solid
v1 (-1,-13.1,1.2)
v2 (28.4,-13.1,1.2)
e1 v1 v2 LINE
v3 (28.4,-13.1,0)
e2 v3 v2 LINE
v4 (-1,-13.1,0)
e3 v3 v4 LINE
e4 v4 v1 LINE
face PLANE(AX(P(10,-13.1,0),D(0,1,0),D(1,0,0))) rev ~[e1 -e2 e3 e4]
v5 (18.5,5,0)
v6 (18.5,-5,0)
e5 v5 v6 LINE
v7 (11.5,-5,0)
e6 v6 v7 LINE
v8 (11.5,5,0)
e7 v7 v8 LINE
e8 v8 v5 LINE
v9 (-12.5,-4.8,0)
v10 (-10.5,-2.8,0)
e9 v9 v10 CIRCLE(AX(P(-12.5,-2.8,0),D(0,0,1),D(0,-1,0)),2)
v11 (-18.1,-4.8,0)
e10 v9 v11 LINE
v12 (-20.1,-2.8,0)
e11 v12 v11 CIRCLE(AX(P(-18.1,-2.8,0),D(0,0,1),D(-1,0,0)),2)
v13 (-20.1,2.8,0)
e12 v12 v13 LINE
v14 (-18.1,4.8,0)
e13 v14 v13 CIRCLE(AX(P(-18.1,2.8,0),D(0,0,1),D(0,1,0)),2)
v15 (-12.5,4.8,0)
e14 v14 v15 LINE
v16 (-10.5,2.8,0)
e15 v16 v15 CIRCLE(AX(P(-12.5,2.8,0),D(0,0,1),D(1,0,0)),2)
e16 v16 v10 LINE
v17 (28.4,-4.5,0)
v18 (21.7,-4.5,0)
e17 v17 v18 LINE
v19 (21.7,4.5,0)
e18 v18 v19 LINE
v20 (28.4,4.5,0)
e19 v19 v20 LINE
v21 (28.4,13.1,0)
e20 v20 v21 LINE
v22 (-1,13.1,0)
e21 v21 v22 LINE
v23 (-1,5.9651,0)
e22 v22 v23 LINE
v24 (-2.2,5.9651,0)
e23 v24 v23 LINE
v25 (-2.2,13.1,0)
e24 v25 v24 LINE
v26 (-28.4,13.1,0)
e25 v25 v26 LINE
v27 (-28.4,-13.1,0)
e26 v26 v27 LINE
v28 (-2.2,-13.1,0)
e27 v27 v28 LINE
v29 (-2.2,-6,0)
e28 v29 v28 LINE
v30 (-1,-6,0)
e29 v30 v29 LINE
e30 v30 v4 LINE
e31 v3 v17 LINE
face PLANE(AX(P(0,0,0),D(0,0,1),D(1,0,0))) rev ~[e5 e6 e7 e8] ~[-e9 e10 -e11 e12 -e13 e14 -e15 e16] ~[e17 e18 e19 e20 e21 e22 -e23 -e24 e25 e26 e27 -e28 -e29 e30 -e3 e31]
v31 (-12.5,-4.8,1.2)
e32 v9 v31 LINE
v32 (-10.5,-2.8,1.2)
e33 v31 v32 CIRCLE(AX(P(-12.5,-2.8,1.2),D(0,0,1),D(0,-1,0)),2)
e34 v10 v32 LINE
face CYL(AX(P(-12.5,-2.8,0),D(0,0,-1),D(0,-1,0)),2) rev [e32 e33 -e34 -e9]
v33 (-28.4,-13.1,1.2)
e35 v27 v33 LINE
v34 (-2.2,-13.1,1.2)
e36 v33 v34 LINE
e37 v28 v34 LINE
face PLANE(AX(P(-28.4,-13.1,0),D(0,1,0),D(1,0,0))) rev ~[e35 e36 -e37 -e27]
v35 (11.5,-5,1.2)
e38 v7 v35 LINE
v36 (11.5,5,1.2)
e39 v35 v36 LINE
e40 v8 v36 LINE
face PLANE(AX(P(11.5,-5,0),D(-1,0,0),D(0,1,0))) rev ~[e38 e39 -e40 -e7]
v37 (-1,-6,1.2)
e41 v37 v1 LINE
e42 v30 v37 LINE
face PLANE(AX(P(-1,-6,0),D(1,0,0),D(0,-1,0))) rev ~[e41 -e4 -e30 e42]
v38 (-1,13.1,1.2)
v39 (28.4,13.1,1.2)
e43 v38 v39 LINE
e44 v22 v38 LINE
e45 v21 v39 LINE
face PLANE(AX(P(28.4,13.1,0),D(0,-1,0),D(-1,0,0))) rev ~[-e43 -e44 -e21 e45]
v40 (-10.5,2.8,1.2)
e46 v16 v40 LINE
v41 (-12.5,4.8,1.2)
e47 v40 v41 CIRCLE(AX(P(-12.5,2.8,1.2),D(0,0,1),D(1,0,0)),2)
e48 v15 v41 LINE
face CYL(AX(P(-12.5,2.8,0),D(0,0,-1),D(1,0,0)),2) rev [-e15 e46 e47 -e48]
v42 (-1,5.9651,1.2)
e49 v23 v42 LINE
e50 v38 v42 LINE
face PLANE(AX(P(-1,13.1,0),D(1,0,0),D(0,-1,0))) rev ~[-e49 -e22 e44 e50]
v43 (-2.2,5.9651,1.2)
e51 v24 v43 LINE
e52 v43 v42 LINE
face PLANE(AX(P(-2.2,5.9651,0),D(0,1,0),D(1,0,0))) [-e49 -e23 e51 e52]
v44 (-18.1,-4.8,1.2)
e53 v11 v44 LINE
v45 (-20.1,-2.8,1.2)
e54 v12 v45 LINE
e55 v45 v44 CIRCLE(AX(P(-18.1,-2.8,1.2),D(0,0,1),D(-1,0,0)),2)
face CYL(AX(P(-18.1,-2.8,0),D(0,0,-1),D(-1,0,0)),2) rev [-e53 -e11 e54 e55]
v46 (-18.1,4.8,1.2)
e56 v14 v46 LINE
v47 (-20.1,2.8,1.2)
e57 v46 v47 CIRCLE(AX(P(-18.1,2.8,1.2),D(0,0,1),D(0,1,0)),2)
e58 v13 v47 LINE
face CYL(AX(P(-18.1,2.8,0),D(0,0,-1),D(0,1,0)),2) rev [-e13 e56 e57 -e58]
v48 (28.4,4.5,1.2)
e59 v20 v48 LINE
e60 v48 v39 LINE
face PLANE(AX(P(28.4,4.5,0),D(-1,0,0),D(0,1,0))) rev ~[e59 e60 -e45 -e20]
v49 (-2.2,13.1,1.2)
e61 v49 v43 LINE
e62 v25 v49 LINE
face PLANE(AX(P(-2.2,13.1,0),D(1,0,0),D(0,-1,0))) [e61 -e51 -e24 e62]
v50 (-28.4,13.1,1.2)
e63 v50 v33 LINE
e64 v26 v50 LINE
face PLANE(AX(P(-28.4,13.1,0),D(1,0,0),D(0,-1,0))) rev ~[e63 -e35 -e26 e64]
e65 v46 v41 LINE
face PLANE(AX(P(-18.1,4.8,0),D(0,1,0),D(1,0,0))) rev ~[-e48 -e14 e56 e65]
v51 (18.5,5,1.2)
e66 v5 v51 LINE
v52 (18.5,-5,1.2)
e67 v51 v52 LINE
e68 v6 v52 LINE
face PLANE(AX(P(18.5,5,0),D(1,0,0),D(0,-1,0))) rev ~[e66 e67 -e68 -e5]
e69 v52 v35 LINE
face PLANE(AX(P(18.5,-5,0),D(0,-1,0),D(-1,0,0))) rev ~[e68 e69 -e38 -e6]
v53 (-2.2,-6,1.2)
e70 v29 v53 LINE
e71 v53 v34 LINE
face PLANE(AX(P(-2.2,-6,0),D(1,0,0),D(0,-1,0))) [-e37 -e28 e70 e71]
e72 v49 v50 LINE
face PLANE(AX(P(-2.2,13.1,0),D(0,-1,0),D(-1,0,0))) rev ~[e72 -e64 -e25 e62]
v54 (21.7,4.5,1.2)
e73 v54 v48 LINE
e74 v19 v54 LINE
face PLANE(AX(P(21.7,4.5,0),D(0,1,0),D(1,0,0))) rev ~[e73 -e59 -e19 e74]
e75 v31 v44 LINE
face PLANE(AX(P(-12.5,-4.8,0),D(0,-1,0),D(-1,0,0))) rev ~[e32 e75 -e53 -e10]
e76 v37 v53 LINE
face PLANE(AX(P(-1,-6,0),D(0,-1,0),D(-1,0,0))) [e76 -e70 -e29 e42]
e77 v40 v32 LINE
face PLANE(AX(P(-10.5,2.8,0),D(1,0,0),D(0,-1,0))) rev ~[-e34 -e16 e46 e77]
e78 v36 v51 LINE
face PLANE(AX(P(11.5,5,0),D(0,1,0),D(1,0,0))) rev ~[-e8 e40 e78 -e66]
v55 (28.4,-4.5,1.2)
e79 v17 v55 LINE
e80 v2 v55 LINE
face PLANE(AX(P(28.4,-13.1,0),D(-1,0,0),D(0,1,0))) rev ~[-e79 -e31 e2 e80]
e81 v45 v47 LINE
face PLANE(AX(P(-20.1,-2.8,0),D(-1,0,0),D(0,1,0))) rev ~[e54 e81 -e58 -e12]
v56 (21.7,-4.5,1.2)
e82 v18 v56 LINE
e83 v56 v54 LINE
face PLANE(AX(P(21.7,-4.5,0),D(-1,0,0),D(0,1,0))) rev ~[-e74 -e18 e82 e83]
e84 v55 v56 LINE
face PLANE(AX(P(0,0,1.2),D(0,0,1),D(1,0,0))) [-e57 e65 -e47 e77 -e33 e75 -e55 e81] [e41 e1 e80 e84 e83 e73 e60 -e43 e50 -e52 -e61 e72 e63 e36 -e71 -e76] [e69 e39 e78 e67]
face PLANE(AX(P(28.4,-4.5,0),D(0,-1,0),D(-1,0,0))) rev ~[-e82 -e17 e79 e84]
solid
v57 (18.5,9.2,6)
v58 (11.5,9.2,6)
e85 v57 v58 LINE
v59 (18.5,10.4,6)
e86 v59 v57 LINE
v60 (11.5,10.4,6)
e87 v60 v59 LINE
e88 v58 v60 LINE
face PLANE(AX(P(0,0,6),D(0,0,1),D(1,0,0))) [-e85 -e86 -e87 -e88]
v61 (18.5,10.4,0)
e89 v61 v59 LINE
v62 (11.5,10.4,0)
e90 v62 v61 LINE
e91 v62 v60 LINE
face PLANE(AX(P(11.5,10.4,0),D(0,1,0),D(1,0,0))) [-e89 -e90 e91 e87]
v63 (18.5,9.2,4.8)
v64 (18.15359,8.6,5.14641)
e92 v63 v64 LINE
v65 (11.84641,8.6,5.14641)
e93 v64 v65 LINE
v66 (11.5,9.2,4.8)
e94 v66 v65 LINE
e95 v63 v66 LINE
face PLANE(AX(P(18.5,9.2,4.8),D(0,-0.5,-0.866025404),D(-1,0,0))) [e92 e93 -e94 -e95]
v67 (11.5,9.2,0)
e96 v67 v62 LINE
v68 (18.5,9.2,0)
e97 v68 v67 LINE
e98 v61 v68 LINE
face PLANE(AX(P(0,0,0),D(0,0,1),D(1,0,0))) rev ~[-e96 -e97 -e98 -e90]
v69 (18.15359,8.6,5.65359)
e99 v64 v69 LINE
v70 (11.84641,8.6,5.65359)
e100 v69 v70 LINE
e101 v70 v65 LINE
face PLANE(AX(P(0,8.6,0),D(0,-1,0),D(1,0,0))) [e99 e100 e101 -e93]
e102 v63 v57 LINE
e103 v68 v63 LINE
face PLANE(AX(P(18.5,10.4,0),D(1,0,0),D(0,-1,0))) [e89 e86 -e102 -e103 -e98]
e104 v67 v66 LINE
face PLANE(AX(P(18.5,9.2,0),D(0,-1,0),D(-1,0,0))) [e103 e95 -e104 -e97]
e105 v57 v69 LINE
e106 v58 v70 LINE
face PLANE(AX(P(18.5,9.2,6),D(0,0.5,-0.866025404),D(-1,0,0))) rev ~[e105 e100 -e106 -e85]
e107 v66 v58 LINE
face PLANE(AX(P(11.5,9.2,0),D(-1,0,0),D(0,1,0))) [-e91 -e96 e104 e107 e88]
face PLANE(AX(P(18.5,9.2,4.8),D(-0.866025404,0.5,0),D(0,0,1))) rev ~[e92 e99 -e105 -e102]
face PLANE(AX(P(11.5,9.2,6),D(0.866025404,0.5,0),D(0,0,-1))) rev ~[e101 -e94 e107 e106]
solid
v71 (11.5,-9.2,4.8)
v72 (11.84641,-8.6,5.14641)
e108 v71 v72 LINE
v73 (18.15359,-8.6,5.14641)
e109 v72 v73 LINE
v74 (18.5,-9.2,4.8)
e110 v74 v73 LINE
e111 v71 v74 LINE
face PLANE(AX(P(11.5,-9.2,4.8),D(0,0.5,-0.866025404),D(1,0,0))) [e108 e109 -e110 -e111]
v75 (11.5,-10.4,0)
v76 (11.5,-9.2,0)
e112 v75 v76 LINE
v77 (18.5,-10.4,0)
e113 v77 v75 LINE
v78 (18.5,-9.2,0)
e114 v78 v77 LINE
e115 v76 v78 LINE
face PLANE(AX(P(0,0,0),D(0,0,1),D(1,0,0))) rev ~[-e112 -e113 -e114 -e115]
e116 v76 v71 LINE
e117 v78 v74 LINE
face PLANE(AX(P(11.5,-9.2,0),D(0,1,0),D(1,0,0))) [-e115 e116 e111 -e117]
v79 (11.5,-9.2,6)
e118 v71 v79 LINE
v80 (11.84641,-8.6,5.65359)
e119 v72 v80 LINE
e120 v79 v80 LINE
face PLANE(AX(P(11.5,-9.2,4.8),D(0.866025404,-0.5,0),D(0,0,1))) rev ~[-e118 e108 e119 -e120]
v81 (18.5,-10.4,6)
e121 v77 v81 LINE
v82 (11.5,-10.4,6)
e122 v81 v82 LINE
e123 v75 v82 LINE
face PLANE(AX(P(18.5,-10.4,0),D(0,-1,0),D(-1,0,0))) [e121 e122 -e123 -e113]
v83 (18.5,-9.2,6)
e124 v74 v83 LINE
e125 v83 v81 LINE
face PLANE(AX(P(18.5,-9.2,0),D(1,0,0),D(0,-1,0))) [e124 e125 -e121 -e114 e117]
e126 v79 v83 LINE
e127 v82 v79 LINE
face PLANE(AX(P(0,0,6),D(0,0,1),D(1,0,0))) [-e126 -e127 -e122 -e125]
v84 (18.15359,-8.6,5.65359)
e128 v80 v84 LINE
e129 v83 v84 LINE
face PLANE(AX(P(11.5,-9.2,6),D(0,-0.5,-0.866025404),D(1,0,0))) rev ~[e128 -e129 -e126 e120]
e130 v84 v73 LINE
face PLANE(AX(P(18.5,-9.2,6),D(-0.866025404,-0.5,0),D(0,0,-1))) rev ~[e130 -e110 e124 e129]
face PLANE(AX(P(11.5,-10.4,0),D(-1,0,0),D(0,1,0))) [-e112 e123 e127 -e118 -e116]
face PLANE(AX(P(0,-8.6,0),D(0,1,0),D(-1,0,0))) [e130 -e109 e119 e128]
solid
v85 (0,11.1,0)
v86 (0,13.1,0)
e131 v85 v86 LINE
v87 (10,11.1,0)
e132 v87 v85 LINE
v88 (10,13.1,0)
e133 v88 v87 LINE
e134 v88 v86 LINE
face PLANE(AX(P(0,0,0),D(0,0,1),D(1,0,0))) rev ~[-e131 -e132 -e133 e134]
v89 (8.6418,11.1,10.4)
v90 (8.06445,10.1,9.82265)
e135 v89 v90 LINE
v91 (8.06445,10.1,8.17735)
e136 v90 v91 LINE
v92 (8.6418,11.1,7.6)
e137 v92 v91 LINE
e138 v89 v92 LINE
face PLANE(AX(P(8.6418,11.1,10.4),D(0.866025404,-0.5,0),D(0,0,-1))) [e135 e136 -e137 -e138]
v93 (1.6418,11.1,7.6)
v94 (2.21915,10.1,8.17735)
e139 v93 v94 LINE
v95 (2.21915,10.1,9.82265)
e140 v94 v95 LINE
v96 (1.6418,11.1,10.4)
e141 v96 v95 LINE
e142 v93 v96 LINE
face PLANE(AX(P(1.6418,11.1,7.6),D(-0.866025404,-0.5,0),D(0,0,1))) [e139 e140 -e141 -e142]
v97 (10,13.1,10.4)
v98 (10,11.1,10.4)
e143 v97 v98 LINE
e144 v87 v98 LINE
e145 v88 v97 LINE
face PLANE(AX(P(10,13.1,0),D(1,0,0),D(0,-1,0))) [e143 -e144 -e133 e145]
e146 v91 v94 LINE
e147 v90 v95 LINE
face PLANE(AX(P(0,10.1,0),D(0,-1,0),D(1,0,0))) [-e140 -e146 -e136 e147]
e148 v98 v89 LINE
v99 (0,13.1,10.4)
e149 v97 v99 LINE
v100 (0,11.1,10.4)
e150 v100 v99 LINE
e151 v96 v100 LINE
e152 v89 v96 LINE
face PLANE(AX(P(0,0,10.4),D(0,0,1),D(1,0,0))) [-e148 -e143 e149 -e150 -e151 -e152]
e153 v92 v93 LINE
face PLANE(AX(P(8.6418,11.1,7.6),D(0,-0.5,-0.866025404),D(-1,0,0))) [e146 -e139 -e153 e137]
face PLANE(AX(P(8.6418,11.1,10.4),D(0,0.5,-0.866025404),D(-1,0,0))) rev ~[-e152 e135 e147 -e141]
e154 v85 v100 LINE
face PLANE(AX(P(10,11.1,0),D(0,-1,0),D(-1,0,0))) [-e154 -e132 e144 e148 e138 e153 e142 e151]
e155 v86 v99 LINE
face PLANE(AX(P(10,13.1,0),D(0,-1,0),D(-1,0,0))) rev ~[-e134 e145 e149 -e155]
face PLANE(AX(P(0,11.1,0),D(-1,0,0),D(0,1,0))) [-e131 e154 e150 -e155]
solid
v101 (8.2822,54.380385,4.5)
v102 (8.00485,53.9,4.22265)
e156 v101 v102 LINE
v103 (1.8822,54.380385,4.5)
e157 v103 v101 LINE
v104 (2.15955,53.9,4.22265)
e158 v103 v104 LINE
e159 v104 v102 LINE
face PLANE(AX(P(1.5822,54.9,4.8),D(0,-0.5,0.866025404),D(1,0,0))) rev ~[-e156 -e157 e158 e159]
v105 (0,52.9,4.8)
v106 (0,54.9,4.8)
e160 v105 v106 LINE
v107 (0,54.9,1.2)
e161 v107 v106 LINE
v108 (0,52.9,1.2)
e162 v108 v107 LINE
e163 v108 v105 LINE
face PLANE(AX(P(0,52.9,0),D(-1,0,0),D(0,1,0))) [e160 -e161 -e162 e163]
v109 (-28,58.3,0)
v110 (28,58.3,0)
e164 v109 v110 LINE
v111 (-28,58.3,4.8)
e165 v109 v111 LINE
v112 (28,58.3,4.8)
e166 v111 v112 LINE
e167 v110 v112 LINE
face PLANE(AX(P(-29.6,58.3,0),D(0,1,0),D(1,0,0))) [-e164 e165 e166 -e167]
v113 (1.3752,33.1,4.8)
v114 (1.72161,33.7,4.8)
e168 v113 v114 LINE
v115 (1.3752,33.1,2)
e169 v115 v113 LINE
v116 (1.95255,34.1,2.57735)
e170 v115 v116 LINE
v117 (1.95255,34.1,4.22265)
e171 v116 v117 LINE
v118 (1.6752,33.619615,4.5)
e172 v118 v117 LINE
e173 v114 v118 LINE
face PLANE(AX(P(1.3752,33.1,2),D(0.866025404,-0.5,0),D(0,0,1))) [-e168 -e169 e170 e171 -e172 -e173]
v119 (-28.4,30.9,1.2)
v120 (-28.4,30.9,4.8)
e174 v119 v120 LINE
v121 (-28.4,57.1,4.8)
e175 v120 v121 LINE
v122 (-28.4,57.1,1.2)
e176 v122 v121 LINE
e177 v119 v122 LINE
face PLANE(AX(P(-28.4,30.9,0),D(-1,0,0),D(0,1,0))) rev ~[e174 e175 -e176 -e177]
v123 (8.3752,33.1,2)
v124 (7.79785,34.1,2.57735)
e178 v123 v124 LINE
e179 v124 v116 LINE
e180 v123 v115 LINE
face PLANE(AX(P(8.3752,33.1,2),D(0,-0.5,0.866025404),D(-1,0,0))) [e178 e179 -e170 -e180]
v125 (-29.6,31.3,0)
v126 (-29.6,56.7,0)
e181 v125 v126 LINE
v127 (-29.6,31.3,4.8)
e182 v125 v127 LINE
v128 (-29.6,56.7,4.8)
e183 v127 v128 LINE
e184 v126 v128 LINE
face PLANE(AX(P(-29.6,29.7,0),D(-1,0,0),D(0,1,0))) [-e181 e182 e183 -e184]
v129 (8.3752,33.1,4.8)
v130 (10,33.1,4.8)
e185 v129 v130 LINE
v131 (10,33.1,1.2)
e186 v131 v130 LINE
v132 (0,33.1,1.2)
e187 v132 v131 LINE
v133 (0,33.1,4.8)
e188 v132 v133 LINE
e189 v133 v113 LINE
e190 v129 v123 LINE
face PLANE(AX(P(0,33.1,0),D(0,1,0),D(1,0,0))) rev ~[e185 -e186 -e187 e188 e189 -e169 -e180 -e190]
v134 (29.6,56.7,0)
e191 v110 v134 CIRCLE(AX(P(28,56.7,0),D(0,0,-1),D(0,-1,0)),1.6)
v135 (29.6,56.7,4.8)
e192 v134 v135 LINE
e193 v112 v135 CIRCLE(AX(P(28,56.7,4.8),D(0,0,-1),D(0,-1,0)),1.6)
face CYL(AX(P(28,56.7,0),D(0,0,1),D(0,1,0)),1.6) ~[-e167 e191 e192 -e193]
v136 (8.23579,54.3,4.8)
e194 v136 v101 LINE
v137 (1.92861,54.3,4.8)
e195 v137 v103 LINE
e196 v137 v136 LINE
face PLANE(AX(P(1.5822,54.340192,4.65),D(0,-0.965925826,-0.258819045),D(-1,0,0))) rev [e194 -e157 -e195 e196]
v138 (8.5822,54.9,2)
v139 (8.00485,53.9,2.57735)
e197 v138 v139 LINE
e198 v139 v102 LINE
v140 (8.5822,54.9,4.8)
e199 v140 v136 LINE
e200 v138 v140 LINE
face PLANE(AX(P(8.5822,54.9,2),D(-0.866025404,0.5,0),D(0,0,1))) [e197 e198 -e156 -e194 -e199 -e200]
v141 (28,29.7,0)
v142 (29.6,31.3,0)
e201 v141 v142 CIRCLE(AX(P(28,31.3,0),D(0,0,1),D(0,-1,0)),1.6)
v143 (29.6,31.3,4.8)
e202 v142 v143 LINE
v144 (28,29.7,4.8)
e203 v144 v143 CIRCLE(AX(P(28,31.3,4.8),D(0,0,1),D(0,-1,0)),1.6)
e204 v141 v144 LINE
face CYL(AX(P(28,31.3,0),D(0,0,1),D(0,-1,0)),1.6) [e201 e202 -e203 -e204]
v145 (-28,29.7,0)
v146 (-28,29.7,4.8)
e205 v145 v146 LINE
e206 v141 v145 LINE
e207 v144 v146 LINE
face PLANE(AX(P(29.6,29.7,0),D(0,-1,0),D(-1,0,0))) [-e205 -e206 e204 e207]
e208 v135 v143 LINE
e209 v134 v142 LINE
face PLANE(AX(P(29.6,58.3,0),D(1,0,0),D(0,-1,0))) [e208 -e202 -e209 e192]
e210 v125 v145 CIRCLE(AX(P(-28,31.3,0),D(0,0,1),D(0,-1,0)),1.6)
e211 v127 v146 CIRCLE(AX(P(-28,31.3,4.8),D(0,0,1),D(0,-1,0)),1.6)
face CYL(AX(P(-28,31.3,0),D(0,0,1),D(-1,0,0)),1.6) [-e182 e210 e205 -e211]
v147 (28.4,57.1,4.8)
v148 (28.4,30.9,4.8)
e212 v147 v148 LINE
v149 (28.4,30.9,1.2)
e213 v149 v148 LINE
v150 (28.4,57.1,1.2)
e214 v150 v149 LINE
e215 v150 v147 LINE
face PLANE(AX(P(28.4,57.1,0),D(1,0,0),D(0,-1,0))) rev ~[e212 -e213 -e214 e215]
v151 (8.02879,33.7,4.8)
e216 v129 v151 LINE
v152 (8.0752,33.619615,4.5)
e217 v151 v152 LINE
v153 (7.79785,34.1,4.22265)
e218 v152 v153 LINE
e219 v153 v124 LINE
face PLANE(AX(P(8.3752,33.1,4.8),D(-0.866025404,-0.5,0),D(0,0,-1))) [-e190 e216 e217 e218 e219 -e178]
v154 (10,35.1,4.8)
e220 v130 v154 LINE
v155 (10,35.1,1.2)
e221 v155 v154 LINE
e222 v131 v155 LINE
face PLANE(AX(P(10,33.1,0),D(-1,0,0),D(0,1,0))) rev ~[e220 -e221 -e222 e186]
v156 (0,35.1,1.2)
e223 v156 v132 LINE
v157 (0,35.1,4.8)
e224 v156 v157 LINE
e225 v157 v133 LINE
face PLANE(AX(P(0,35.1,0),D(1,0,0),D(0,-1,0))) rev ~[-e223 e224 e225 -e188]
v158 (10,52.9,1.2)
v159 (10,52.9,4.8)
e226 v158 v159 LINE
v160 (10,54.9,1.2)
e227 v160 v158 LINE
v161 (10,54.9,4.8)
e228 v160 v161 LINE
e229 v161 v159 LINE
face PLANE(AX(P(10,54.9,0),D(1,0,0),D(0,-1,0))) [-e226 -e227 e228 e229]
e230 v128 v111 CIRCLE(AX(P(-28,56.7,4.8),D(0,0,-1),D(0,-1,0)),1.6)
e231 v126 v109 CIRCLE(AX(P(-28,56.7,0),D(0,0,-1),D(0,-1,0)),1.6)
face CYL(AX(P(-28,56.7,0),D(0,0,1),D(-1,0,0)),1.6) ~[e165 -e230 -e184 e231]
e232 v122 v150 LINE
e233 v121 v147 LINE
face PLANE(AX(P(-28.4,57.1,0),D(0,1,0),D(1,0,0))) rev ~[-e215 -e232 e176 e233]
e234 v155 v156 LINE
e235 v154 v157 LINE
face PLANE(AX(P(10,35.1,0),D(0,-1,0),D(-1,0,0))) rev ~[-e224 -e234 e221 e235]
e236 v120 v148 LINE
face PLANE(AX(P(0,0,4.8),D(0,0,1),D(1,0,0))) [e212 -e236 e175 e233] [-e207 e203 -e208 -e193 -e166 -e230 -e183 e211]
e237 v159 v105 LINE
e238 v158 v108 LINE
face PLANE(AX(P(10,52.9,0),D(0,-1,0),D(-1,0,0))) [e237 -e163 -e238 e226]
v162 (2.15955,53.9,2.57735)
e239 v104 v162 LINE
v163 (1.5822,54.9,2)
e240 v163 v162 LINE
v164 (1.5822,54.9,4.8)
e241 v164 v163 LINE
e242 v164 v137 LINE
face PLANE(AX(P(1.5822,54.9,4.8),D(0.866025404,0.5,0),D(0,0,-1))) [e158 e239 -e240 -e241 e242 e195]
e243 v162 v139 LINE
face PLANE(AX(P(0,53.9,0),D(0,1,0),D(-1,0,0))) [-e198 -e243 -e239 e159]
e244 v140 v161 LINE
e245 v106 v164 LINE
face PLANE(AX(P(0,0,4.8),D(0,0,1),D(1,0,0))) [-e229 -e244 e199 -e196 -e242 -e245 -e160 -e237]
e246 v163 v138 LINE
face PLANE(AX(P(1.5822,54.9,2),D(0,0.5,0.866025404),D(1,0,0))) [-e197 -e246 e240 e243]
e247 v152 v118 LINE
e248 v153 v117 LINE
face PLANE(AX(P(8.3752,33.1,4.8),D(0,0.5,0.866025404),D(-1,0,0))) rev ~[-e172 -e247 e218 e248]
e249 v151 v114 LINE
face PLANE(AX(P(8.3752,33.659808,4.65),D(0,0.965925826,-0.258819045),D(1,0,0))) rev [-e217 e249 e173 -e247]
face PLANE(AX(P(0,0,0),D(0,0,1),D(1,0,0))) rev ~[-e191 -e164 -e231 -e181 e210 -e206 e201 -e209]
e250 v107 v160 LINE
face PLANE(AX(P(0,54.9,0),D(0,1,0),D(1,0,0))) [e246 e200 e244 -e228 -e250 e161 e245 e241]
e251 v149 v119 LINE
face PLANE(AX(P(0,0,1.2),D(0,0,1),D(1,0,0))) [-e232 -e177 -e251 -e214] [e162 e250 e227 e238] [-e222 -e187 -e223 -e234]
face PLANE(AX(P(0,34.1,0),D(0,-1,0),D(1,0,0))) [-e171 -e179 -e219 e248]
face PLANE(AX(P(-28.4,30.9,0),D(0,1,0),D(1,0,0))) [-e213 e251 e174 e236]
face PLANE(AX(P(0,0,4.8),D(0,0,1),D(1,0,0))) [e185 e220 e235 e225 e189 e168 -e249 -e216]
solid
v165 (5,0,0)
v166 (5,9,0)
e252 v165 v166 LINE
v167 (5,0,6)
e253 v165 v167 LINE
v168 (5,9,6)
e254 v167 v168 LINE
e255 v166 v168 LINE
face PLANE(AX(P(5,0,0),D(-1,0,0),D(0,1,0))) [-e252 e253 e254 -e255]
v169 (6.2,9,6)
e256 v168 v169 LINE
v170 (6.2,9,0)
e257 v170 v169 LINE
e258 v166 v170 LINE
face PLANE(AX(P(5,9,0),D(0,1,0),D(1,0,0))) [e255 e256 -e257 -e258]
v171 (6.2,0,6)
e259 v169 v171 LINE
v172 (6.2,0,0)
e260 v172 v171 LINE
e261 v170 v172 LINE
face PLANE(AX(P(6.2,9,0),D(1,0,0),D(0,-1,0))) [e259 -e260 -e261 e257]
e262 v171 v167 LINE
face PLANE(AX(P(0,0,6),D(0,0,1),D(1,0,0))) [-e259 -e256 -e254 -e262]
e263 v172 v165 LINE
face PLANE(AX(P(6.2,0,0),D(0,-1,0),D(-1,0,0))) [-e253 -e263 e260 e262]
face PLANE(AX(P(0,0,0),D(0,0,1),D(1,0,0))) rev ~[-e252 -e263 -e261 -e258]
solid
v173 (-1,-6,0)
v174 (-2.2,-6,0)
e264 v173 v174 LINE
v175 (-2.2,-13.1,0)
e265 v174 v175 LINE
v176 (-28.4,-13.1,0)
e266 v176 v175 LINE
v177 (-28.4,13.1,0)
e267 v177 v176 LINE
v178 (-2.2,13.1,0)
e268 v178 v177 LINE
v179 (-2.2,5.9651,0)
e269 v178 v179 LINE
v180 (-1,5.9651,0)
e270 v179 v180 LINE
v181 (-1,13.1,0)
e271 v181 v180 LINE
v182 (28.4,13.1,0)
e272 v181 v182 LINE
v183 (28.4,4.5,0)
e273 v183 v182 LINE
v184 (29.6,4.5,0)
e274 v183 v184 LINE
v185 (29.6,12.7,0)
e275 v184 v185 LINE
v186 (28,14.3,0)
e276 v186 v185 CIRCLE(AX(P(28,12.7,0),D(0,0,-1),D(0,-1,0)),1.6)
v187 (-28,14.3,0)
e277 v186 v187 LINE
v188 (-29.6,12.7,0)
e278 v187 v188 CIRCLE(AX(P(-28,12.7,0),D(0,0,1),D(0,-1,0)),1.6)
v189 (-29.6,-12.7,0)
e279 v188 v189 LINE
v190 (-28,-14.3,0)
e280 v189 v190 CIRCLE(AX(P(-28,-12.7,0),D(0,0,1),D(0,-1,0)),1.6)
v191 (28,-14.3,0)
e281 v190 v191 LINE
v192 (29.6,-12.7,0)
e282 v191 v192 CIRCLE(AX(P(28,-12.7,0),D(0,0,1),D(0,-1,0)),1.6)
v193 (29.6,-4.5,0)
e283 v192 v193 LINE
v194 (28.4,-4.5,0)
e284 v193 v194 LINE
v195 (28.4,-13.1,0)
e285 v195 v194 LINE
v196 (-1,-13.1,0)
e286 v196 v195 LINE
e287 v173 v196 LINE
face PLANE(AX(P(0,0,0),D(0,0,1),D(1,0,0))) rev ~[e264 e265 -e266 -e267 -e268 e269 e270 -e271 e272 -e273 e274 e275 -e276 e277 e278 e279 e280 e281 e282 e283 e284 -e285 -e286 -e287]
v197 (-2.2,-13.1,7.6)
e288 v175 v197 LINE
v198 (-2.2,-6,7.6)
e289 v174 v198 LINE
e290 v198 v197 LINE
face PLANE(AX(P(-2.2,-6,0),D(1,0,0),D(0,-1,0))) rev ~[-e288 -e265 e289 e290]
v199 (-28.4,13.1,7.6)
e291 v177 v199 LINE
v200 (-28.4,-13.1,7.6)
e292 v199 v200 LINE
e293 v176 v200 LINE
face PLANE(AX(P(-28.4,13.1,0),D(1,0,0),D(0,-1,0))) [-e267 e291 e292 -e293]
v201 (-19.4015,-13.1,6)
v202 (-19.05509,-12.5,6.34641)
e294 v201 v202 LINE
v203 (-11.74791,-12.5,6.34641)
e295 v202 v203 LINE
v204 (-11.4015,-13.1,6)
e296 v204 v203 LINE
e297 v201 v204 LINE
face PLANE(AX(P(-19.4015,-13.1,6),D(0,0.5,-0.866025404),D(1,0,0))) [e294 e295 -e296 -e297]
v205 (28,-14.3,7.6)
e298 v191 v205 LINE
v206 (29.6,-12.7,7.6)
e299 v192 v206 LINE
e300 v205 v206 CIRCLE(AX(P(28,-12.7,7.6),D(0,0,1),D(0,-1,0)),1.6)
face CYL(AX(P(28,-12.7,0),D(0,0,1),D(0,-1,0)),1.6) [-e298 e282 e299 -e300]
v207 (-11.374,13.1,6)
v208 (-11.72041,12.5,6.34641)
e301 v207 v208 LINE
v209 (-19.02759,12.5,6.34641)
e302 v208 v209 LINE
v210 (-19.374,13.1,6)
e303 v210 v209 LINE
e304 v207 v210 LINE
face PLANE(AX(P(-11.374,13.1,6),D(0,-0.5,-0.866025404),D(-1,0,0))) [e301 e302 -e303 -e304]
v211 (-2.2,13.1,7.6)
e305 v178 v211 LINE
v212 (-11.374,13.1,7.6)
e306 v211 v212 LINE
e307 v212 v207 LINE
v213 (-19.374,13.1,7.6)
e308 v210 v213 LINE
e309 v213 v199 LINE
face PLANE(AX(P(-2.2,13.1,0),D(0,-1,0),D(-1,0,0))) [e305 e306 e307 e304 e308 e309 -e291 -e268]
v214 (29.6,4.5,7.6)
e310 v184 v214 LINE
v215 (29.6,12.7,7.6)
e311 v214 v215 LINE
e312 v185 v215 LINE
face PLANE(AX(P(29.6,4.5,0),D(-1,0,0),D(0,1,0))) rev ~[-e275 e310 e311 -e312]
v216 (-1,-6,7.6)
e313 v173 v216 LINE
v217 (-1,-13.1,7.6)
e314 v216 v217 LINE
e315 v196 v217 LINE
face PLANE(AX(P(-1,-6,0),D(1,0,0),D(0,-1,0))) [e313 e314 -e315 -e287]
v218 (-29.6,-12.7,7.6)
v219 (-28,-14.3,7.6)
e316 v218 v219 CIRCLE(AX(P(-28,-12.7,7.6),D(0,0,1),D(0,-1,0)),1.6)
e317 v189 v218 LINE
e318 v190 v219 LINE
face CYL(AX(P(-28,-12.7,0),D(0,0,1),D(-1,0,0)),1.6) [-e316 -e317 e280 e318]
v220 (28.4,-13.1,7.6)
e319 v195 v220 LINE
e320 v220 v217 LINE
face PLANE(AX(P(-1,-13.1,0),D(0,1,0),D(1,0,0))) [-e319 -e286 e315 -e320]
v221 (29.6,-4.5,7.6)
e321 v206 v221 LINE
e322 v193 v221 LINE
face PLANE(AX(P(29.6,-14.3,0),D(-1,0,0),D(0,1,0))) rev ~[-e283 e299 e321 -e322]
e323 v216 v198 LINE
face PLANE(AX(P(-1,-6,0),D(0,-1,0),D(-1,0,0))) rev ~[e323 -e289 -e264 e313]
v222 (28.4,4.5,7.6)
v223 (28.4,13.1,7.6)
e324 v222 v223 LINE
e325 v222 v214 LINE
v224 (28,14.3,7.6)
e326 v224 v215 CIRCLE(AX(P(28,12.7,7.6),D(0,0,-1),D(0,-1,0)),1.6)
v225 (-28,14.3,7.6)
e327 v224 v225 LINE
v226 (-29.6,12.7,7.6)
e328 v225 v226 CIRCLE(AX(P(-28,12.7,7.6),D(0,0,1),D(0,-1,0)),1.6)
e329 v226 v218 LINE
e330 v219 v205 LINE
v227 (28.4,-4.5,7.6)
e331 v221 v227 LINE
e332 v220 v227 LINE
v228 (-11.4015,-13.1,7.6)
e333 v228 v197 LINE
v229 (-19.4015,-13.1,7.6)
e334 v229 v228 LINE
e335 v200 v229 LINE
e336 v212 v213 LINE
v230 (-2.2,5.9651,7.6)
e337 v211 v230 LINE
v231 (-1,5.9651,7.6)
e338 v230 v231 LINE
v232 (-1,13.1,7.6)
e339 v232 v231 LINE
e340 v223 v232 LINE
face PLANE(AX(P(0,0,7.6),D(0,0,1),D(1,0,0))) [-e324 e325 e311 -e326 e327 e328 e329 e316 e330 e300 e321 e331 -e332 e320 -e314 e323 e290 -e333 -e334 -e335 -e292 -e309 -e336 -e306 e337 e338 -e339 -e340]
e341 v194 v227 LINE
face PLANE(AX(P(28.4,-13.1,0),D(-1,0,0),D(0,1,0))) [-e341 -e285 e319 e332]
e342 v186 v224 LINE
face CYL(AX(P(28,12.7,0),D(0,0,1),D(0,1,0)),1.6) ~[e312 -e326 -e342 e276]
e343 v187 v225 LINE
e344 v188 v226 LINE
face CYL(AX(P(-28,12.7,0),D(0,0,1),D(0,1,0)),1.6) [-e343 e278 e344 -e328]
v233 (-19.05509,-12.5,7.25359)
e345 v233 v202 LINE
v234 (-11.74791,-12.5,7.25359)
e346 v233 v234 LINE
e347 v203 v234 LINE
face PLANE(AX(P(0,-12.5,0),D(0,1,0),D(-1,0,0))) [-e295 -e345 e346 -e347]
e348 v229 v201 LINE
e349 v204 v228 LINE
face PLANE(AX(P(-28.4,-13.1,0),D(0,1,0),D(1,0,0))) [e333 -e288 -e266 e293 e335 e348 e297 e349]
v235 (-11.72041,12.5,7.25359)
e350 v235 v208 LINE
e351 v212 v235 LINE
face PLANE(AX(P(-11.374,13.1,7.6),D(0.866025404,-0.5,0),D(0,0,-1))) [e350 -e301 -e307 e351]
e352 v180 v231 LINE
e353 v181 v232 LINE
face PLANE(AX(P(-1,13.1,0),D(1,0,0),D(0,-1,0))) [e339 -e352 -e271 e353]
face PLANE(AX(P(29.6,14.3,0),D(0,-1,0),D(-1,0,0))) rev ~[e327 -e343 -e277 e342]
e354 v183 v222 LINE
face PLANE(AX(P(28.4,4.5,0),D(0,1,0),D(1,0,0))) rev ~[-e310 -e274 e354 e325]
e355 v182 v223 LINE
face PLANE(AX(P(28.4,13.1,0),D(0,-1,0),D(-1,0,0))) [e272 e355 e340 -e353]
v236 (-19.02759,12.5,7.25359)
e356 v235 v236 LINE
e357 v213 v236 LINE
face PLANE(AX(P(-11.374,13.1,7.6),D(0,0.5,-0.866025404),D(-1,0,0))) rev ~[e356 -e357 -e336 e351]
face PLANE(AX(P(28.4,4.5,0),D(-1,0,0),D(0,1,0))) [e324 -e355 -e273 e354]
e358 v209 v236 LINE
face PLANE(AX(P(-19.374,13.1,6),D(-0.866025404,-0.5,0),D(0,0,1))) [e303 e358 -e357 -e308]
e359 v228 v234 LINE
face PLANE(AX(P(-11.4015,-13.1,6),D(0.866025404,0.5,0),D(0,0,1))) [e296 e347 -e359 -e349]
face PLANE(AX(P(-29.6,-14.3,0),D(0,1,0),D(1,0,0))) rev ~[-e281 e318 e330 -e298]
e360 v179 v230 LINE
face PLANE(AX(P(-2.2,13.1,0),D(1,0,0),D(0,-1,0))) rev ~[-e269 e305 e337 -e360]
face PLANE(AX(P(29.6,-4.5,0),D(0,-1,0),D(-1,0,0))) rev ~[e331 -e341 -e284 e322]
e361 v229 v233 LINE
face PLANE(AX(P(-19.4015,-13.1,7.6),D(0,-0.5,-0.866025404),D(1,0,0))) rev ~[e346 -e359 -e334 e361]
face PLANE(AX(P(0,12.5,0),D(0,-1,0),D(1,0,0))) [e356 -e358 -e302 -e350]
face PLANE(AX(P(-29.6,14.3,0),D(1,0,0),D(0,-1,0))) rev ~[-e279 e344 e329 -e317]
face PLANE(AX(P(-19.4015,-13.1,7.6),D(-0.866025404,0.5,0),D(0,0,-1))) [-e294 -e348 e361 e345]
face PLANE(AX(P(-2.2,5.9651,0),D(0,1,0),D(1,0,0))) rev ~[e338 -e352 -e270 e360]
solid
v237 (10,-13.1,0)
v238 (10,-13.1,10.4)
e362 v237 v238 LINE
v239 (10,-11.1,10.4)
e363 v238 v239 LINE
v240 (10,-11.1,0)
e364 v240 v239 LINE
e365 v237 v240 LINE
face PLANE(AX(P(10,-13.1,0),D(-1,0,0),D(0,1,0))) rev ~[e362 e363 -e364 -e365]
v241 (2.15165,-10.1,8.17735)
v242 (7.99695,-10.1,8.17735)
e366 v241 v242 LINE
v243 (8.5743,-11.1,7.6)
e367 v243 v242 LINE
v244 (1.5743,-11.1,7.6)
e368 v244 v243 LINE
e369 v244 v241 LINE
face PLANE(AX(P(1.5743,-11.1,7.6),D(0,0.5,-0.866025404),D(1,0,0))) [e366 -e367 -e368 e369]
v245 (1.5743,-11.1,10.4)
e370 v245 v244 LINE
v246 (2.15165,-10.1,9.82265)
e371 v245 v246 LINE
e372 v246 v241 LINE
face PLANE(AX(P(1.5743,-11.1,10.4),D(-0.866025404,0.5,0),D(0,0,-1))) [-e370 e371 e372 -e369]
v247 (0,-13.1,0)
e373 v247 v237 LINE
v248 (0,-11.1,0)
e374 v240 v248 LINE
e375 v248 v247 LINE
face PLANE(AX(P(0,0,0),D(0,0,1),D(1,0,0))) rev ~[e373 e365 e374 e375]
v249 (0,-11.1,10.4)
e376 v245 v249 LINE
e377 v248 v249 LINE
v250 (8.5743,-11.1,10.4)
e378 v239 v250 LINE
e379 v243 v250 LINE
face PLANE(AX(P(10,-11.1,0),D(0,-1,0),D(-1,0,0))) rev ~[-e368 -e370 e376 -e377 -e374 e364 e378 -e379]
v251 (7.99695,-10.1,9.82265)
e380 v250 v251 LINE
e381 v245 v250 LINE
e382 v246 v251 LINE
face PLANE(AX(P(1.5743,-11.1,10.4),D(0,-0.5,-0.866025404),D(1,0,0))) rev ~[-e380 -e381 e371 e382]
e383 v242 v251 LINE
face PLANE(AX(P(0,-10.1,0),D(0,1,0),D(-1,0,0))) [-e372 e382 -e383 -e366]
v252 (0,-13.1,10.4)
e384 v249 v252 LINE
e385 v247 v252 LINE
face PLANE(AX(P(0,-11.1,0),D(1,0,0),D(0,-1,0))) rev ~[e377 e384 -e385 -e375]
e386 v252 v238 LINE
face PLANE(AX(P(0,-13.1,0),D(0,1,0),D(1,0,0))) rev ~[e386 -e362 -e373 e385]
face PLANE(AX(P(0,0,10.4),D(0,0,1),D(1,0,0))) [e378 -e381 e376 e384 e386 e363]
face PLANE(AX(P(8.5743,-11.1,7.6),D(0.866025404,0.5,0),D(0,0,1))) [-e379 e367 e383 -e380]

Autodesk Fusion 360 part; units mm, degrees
sketch "Sketch7" plane through (0, 0, 0) normal (0, 0, 1) x (1, 0, 0)
  line L0 (28.4, 13.1) -> (-28.4, 13.1)
  line L1 (-28.4, 13.1) -> (-28.4, -13.1)
  line L2 (-28.4, -13.1) -> (28.4, -13.1)
  line L3 (28.4, -13.1) -> (28.4, 13.1)
  line L4 (28.4, 13.1) -> (-28.4, -13.1) construction
  line L5 (-28.4, 13.1) -> (28.4, -13.1) construction
  line L6 (-29.6, -14.3) -> (29.6, -14.3)
  line L7 (29.6, -14.3) -> (29.6, 14.3)
  line L8 (29.6, 14.3) -> (-29.6, 14.3)
  line L9 (-29.6, 14.3) -> (-29.6, -14.3)
  line L10 (-28.4, 13.1) -> (-2.2, 13.1)
  line L11 (-2.2, 13.1) -> (-2.2, -13.1)
  line L12 (-2.2, -13.1) -> (-28.4, -13.1)
  line L13 (-28.4, -13.1) -> (-28.4, 13.1)
  line L14 (-18.1, 4.8) -> (-12.5, 4.8)
  line L15 (-10.5, 2.8) -> (-10.5, -2.8)
  line L16 (-12.5, -4.8) -> (-18.1, -4.8)
  line L17 (-20.1, -2.8) -> (-20.1, 2.8)
  arc A0 (-18.1, 4.8) -> (-20.1, 2.8) centre (-18.1, 2.8) ccw
  arc A1 (-10.5, 2.8) -> (-12.5, 4.8) centre (-12.5, 2.8) ccw
  arc A2 (-20.1, -2.8) -> (-18.1, -4.8) centre (-18.1, -2.8) ccw
  arc A3 (-12.5, -4.8) -> (-10.5, -2.8) centre (-12.5, -2.8) ccw
  line L18 (-2.2, 13.1) -> (-1, 13.1)
  line L19 (-1, 13.1) -> (-1, -13.1)
  line L20 (-1, -13.1) -> (-2.2, -13.1)
  line L21 (-2.2, -13.1) -> (-2.2, 13.1)
  line L22 (-2.2, 5.9651) -> (-1, 5.9651)
  line L23 (-1, 5.9651) -> (-1, -6)
  line L24 (-1, -6) -> (-2.2, -6)
  line L25 (-2.2, -6) -> (-2.2, 5.9651)
  line L26 (35.1, -4.5) -> (21.7, -4.5)
  line L27 (21.7, -4.5) -> (21.7, 4.5)
  line L28 (21.7, 4.5) -> (35.1, 4.5)
  line L29 (35.1, 4.5) -> (35.1, -4.5)
  line L30 (35.1, -4.5) -> (21.7, 4.5) construction
  line L31 (21.7, -4.5) -> (35.1, 4.5) construction
  line L32 (18.5, -5) -> (11.5, -5)
  line L33 (11.5, -5) -> (11.5, 5)
  line L34 (11.5, 5) -> (18.5, 5)
  line L35 (18.5, 5) -> (18.5, -5)
  line L36 (18.5, -5) -> (11.5, 5) construction
  line L37 (11.5, -5) -> (18.5, 5) construction
  line L38 (11.5, 10.4) -> (18.5, 10.4)
  line L39 (18.5, 10.4) -> (18.5, 9.2)
  line L40 (18.5, 9.2) -> (11.5, 9.2)
  line L41 (11.5, 9.2) -> (11.5, 10.4)
  line L42 (11.5, -9.2) -> (18.5, -9.2)
  line L43 (18.5, -9.2) -> (18.5, -10.4)
  line L44 (18.5, -10.4) -> (11.5, -10.4)
  line L45 (11.5, -10.4) -> (11.5, -9.2)
  line L46 (6.2, 0) -> (5, 0)
  line L47 (5, 0) -> (5, 9)
  line L48 (5, 9) -> (6.2, 9)
  line L49 (6.2, 9) -> (6.2, 0)
  line L50 (-37, 22) -> (42, 22) construction
  line L51 (0, 13.1) -> (10, 13.1)
  line L52 (10, 13.1) -> (10, 11.1)
  line L53 (10, 11.1) -> (0, 11.1)
  line L54 (0, 11.1) -> (0, 13.1)
  line L55 (0, -13.1) -> (10, -13.1)
  line L56 (10, -13.1) -> (10, -11.1)
  line L57 (10, -11.1) -> (0, -11.1)
  line L58 (0, -11.1) -> (0, -13.1)
  line L59 (-29.6, 29.7) -> (-29.6, 58.3)
  line L60 (29.6, 29.7) -> (-29.6, 29.7)
  line L61 (-28.4, 30.9) -> (-2.2, 30.9)
  line L62 (-28.4, 30.9) -> (-28.4, 57.1)
  line L63 (-28.4, 57.1) -> (28.4, 57.1)
  line L64 (-29.6, 58.3) -> (29.6, 58.3)
  line L65 (29.6, 58.3) -> (29.6, 29.7)
  line L66 (28.4, 57.1) -> (28.4, 30.9)
  line L67 (28.4, 30.9) -> (-28.4, 30.9)
  line L68 (0, 33.1) -> (10, 33.1)
  line L69 (10, 33.1) -> (10, 35.1)
  line L70 (10, 35.1) -> (0, 35.1)
  line L71 (0, 35.1) -> (0, 33.1)
  line L72 (0, 54.9) -> (10, 54.9)
  line L73 (10, 54.9) -> (10, 52.9)
  line L74 (10, 52.9) -> (0, 52.9)
  line L75 (0, 52.9) -> (0, 54.9)
  point P0 (-20.1, 4.8)
  point P1 (-10.5, 4.8)
  point P2 (-20.1, -4.8)
  point P3 (28.4, 0)
  point P4 (15, 0)
  dimension "d75" = 56.8
  dimension "d76" = 26.2
  dimension "d77" = 1.2
  dimension "d78" = 26.2
  dimension "d79" = 26.2
  dimension "d80" = 9.6
  dimension "d81" = 9.6
  dimension "d82" = 8.3
  dimension "d83" = 8.3
  dimension "d84" = 2
  dimension "d85" = 2
  dimension "d86" = 2
  dimension "d87" = 2
  dimension "d88" = 1.2
  dimension "d89" = 26.2
  dimension "d90" = 1.2
  dimension "d91" = 11.9651
  dimension "d92" = 13.4
  dimension "d93" = 9
  dimension "d94" = 7
  dimension "d95" = 10
  dimension "d96" = 6.7
  dimension "d101" = 7
  dimension "d102" = 1.2
  dimension "d103" = 4.2
  dimension "d104" = 7
  dimension "d105" = 1.2
  dimension "d106" = 4.2
  dimension "d107" = 1.2
  dimension "d108" = 9
  dimension "d109" = 5.3
  dimension "d131" = 10
  dimension "d132" = 2
  dimension "d133" = 2
  dimension "d134" = 2
  dimension "d135" = 10
  dimension "d136" = 2
  dimension "d143" = 2.2
  dimension "d144" = 2.2
extrude "Extrude26" add sketch "Sketch7" along normal blind 10.4 contours L0 L51 L52 L53 L54 | L2 L55 L56 L57 L58 makes body 1 at (6.6667, 11.1, 3.4667) makes body 2 at (3.3333, -13.1, 6.9333)
extrude "Extrude19" add sketch "Sketch7" along normal blind 6 separate body contours L38 L39 L40 L41 | L42 L43 L44 L45 | L46 L47 L48 L49 makes body 3 at (13.8333, 10.4, 2) makes body 4 at (5, 3, 2) makes body 5 at (16.1667, -10.4, 2)
extrude "Extrude18" add sketch "Sketch7" along normal blind 7.6 separate body contours L0 L1 L2 L3 L6 L7 L8 L9 L10 L12 L13 L18 L20 L26 L28 L51 L55 | L0 L11 L18 L19 L21 L22 | L2 L11 L19 L20 L21 L24 makes body 6
extrude "Extrude17" add sketch "Sketch7" along normal blind 1.2 separate body contours L0 L2 L3 L19 L23 L26 L27 L28 L52 L53 L54 L56 L57 L58 | L0 L51 L52 L53 L54 | L0 L1 L2 L10 L11 L12 L13 L21 L25 | L11 L19 L21 L22 L23 L24 L25 | L2 L55 L56 L57 L58 | L38 L39 L40 L41 | L42 L43 L44 L45 | L46 L47 L48 L49 makes body 7
sketch "Sketch8" plane through (0, 9.2, 0) normal (0, -1, 0) x (1, 0, 0)
  line L0 (11.5, 0) -> (18.5, 0)
  line L1 (18.5, 0) -> (18.5, 6)
  line L2 (18.5, 6) -> (11.5, 6)
  line L3 (11.5, 6) -> (11.5, 0)
  line L4 (11.5, 6) -> (18.5, 6)
  line L5 (18.5, 6) -> (18.5, 4.8)
  line L6 (18.5, 4.8) -> (11.5, 4.8)
  line L7 (11.5, 4.8) -> (11.5, 6)
  dimension "d112" = 1.2
extrude "Extrude20" add sketch "Sketch8" along normal blind 0.6 draft -30 contours L1 L2 L3 L4 L5 L6 L7 bodies 3
sketch "Sketch9" plane through (0, -9.2, 0) normal (0, 1, 0) x (-1, 0, 0)
  line L0 (-18.5, 0) -> (-11.5, 0)
  line L1 (-11.5, 0) -> (-11.5, 6)
  line L2 (-11.5, 6) -> (-18.5, 6)
  line L3 (-18.5, 6) -> (-18.5, 0)
  line L4 (-18.5, 6) -> (-11.5, 6)
  line L5 (-11.5, 6) -> (-11.5, 4.8)
  line L6 (-11.5, 4.8) -> (-18.5, 4.8)
  line L7 (-18.5, 4.8) -> (-18.5, 6)
  dimension "d115" = 7
  dimension "d116" = 1.2
extrude "Extrude21" add sketch "Sketch9" along normal blind 0.6 draft -30 contours L1 L2 L3 L4 L5 L6 L7 bodies 5
sketch "Sketch10" plane through (0, -13.1, 0) normal (0, 1, 0) x (-1, 0, 0)
  line L0 (2.2, 0) -> (28.4, 0)
  line L1 (28.4, 0) -> (28.4, 7.6)
  line L2 (28.4, 7.6) -> (2.2, 7.6)
  line L3 (2.2, 7.6) -> (2.2, 0)
  line L4 (11.4015, 7.6) -> (19.4015, 7.6)
  line L5 (19.4015, 7.6) -> (19.4015, 6)
  line L6 (19.4015, 6) -> (11.4015, 6)
  line L7 (11.4015, 6) -> (11.4015, 7.6)
  dimension "d119" = 8
  dimension "d120" = 1.6
extrude "Extrude22" add sketch "Sketch10" along normal blind 0.6 draft -30 contours L2 L4 L5 L6 L7 bodies 6
sketch "Sketch11" plane through (0, 13.1, 0) normal (0, -1, 0) x (1, 0, 0)
  line L0 (-28.4, 0) -> (-2.2, 0)
  line L1 (-2.2, 0) -> (-2.2, 7.6)
  line L2 (-2.2, 7.6) -> (-28.4, 7.6)
  line L3 (-28.4, 7.6) -> (-28.4, 0)
  line L4 (-19.374, 7.6) -> (-11.374, 7.6)
  line L5 (-11.374, 7.6) -> (-11.374, 6)
  line L6 (-11.374, 6) -> (-19.374, 6)
  line L7 (-19.374, 6) -> (-19.374, 7.6)
  dimension "d123" = 8
  dimension "d124" = 1.6
extrude "Extrude23" add sketch "Sketch11" along normal blind 0.6 draft -30 contours L2 L4 L5 L6 L7 bodies 6
fillet "Fillet7" radius 1.6 2 edges at (-29.6, 14.3, 3.8) (-29.6, -14.3, 3.8) on bodies 6
fillet "Fillet8" radius 1.6 2 edges at (29.6, -14.3, 3.8) (29.6, 14.3, 3.8) on bodies 6
extrude "Extrude24" add sketch "Sketch7" along normal blind 1.2 separate body contours L61 L62 L63 L66 L67 makes body 8
extrude "Extrude25" add sketch "Sketch7" along normal blind 4.8 contours L59 L60 L64 L65 | L68 L69 L70 L71 | L72 L73 L74 L75 bodies 8
sketch "Sketch12" plane through (0, 33.1, 0) normal (0, -1, 0) x (1, 0, 0)
  line L0 (0, 1.2) -> (10, 1.2)
  line L1 (10, 1.2) -> (10, 4.8)
  line L2 (10, 4.8) -> (0, 4.8)
  line L3 (0, 4.8) -> (0, 1.2)
  line L4 (1.3752, 4.8) -> (8.3752, 4.8)
  line L5 (8.3752, 4.8) -> (8.3752, 2)
  line L6 (8.3752, 2) -> (1.3752, 2)
  line L7 (1.3752, 2) -> (1.3752, 4.8)
  dimension "d145" = 7
  dimension "d146" = 2.8
sketch "Sketch13" plane through (0, 54.9, 0) normal (0, 1, 0) x (-1, 0, 0)
  line L0 (-10, 1.2) -> (0, 1.2)
  line L1 (0, 1.2) -> (0, 4.8)
  line L2 (0, 4.8) -> (-10, 4.8)
  line L3 (-10, 4.8) -> (-10, 1.2)
  line L4 (-8.5822, 4.8) -> (-1.5822, 4.8)
  line L5 (-1.5822, 4.8) -> (-1.5822, 2)
  line L6 (-1.5822, 2) -> (-8.5822, 2)
  line L7 (-8.5822, 2) -> (-8.5822, 4.8)
  dimension "d149" = 7
  dimension "d150" = 2.8
extrude "Extrude27" cut sketch "Sketch12" against normal blind 1 draft -30 contours L2 L4 L5 L6 L7 bodies 8
extrude "Extrude28" cut sketch "Sketch13" against normal blind 1 draft -30 contours L2 L4 L5 L6 L7 bodies 8
sketch "Sketch14" plane through (0, 11.1, 0) normal (0, -1, 0) x (1, 0, 0)
  line L0 (0, 0) -> (10, 0)
  line L1 (10, 0) -> (10, 10.4)
  line L2 (10, 10.4) -> (0, 10.4)
  line L3 (0, 10.4) -> (0, 0)
  line L4 (1.6418, 10.4) -> (8.6418, 10.4)
  line L5 (8.6418, 10.4) -> (8.6418, 7.6)
  line L6 (8.6418, 7.6) -> (1.6418, 7.6)
  line L7 (1.6418, 7.6) -> (1.6418, 10.4)
  dimension "d153" = 7
  dimension "d154" = 2.8
extrude "Extrude29" add sketch "Sketch14" along normal blind 1 draft -30 contours L2 L4 L5 L6 L7 bodies 1
sketch "Sketch15" plane through (0, -11.1, 0) normal (0, 1, 0) x (-1, 0, 0)
  line L0 (-10, 0) -> (0, 0)
  line L1 (0, 0) -> (0, 10.4)
  line L2 (0, 10.4) -> (-10, 10.4)
  line L3 (-10, 10.4) -> (-10, 0)
  line L4 (-8.5743, 10.4) -> (-1.5743, 10.4)
  line L5 (-1.5743, 10.4) -> (-1.5743, 7.6)
  line L6 (-1.5743, 7.6) -> (-8.5743, 7.6)
  line L7 (-8.5743, 7.6) -> (-8.5743, 10.4)
  dimension "d157" = 7
  dimension "d158" = 2.8
extrude "Extrude30" add sketch "Sketch15" along normal blind 1 draft -30 contours L2 L4 L5 L6 L7 bodies 2
chamfer "Chamfer1" distance 0.6 angle 45 1 edges at (5.0822, 54.9, 4.8) on bodies 8
chamfer "Chamfer2" distance 0.6 angle 45 1 edges at (4.8752, 33.1, 4.8) on bodies 8
fillet "Fillet9" radius 1.6 2 edges at (-29.6, 58.3, 2.4) (-29.6, 29.7, 2.4) on bodies 8
fillet "Fillet10" radius 1.6 2 edges at (29.6, 29.7, 2.4) (29.6, 58.3, 2.4) on bodies 8
